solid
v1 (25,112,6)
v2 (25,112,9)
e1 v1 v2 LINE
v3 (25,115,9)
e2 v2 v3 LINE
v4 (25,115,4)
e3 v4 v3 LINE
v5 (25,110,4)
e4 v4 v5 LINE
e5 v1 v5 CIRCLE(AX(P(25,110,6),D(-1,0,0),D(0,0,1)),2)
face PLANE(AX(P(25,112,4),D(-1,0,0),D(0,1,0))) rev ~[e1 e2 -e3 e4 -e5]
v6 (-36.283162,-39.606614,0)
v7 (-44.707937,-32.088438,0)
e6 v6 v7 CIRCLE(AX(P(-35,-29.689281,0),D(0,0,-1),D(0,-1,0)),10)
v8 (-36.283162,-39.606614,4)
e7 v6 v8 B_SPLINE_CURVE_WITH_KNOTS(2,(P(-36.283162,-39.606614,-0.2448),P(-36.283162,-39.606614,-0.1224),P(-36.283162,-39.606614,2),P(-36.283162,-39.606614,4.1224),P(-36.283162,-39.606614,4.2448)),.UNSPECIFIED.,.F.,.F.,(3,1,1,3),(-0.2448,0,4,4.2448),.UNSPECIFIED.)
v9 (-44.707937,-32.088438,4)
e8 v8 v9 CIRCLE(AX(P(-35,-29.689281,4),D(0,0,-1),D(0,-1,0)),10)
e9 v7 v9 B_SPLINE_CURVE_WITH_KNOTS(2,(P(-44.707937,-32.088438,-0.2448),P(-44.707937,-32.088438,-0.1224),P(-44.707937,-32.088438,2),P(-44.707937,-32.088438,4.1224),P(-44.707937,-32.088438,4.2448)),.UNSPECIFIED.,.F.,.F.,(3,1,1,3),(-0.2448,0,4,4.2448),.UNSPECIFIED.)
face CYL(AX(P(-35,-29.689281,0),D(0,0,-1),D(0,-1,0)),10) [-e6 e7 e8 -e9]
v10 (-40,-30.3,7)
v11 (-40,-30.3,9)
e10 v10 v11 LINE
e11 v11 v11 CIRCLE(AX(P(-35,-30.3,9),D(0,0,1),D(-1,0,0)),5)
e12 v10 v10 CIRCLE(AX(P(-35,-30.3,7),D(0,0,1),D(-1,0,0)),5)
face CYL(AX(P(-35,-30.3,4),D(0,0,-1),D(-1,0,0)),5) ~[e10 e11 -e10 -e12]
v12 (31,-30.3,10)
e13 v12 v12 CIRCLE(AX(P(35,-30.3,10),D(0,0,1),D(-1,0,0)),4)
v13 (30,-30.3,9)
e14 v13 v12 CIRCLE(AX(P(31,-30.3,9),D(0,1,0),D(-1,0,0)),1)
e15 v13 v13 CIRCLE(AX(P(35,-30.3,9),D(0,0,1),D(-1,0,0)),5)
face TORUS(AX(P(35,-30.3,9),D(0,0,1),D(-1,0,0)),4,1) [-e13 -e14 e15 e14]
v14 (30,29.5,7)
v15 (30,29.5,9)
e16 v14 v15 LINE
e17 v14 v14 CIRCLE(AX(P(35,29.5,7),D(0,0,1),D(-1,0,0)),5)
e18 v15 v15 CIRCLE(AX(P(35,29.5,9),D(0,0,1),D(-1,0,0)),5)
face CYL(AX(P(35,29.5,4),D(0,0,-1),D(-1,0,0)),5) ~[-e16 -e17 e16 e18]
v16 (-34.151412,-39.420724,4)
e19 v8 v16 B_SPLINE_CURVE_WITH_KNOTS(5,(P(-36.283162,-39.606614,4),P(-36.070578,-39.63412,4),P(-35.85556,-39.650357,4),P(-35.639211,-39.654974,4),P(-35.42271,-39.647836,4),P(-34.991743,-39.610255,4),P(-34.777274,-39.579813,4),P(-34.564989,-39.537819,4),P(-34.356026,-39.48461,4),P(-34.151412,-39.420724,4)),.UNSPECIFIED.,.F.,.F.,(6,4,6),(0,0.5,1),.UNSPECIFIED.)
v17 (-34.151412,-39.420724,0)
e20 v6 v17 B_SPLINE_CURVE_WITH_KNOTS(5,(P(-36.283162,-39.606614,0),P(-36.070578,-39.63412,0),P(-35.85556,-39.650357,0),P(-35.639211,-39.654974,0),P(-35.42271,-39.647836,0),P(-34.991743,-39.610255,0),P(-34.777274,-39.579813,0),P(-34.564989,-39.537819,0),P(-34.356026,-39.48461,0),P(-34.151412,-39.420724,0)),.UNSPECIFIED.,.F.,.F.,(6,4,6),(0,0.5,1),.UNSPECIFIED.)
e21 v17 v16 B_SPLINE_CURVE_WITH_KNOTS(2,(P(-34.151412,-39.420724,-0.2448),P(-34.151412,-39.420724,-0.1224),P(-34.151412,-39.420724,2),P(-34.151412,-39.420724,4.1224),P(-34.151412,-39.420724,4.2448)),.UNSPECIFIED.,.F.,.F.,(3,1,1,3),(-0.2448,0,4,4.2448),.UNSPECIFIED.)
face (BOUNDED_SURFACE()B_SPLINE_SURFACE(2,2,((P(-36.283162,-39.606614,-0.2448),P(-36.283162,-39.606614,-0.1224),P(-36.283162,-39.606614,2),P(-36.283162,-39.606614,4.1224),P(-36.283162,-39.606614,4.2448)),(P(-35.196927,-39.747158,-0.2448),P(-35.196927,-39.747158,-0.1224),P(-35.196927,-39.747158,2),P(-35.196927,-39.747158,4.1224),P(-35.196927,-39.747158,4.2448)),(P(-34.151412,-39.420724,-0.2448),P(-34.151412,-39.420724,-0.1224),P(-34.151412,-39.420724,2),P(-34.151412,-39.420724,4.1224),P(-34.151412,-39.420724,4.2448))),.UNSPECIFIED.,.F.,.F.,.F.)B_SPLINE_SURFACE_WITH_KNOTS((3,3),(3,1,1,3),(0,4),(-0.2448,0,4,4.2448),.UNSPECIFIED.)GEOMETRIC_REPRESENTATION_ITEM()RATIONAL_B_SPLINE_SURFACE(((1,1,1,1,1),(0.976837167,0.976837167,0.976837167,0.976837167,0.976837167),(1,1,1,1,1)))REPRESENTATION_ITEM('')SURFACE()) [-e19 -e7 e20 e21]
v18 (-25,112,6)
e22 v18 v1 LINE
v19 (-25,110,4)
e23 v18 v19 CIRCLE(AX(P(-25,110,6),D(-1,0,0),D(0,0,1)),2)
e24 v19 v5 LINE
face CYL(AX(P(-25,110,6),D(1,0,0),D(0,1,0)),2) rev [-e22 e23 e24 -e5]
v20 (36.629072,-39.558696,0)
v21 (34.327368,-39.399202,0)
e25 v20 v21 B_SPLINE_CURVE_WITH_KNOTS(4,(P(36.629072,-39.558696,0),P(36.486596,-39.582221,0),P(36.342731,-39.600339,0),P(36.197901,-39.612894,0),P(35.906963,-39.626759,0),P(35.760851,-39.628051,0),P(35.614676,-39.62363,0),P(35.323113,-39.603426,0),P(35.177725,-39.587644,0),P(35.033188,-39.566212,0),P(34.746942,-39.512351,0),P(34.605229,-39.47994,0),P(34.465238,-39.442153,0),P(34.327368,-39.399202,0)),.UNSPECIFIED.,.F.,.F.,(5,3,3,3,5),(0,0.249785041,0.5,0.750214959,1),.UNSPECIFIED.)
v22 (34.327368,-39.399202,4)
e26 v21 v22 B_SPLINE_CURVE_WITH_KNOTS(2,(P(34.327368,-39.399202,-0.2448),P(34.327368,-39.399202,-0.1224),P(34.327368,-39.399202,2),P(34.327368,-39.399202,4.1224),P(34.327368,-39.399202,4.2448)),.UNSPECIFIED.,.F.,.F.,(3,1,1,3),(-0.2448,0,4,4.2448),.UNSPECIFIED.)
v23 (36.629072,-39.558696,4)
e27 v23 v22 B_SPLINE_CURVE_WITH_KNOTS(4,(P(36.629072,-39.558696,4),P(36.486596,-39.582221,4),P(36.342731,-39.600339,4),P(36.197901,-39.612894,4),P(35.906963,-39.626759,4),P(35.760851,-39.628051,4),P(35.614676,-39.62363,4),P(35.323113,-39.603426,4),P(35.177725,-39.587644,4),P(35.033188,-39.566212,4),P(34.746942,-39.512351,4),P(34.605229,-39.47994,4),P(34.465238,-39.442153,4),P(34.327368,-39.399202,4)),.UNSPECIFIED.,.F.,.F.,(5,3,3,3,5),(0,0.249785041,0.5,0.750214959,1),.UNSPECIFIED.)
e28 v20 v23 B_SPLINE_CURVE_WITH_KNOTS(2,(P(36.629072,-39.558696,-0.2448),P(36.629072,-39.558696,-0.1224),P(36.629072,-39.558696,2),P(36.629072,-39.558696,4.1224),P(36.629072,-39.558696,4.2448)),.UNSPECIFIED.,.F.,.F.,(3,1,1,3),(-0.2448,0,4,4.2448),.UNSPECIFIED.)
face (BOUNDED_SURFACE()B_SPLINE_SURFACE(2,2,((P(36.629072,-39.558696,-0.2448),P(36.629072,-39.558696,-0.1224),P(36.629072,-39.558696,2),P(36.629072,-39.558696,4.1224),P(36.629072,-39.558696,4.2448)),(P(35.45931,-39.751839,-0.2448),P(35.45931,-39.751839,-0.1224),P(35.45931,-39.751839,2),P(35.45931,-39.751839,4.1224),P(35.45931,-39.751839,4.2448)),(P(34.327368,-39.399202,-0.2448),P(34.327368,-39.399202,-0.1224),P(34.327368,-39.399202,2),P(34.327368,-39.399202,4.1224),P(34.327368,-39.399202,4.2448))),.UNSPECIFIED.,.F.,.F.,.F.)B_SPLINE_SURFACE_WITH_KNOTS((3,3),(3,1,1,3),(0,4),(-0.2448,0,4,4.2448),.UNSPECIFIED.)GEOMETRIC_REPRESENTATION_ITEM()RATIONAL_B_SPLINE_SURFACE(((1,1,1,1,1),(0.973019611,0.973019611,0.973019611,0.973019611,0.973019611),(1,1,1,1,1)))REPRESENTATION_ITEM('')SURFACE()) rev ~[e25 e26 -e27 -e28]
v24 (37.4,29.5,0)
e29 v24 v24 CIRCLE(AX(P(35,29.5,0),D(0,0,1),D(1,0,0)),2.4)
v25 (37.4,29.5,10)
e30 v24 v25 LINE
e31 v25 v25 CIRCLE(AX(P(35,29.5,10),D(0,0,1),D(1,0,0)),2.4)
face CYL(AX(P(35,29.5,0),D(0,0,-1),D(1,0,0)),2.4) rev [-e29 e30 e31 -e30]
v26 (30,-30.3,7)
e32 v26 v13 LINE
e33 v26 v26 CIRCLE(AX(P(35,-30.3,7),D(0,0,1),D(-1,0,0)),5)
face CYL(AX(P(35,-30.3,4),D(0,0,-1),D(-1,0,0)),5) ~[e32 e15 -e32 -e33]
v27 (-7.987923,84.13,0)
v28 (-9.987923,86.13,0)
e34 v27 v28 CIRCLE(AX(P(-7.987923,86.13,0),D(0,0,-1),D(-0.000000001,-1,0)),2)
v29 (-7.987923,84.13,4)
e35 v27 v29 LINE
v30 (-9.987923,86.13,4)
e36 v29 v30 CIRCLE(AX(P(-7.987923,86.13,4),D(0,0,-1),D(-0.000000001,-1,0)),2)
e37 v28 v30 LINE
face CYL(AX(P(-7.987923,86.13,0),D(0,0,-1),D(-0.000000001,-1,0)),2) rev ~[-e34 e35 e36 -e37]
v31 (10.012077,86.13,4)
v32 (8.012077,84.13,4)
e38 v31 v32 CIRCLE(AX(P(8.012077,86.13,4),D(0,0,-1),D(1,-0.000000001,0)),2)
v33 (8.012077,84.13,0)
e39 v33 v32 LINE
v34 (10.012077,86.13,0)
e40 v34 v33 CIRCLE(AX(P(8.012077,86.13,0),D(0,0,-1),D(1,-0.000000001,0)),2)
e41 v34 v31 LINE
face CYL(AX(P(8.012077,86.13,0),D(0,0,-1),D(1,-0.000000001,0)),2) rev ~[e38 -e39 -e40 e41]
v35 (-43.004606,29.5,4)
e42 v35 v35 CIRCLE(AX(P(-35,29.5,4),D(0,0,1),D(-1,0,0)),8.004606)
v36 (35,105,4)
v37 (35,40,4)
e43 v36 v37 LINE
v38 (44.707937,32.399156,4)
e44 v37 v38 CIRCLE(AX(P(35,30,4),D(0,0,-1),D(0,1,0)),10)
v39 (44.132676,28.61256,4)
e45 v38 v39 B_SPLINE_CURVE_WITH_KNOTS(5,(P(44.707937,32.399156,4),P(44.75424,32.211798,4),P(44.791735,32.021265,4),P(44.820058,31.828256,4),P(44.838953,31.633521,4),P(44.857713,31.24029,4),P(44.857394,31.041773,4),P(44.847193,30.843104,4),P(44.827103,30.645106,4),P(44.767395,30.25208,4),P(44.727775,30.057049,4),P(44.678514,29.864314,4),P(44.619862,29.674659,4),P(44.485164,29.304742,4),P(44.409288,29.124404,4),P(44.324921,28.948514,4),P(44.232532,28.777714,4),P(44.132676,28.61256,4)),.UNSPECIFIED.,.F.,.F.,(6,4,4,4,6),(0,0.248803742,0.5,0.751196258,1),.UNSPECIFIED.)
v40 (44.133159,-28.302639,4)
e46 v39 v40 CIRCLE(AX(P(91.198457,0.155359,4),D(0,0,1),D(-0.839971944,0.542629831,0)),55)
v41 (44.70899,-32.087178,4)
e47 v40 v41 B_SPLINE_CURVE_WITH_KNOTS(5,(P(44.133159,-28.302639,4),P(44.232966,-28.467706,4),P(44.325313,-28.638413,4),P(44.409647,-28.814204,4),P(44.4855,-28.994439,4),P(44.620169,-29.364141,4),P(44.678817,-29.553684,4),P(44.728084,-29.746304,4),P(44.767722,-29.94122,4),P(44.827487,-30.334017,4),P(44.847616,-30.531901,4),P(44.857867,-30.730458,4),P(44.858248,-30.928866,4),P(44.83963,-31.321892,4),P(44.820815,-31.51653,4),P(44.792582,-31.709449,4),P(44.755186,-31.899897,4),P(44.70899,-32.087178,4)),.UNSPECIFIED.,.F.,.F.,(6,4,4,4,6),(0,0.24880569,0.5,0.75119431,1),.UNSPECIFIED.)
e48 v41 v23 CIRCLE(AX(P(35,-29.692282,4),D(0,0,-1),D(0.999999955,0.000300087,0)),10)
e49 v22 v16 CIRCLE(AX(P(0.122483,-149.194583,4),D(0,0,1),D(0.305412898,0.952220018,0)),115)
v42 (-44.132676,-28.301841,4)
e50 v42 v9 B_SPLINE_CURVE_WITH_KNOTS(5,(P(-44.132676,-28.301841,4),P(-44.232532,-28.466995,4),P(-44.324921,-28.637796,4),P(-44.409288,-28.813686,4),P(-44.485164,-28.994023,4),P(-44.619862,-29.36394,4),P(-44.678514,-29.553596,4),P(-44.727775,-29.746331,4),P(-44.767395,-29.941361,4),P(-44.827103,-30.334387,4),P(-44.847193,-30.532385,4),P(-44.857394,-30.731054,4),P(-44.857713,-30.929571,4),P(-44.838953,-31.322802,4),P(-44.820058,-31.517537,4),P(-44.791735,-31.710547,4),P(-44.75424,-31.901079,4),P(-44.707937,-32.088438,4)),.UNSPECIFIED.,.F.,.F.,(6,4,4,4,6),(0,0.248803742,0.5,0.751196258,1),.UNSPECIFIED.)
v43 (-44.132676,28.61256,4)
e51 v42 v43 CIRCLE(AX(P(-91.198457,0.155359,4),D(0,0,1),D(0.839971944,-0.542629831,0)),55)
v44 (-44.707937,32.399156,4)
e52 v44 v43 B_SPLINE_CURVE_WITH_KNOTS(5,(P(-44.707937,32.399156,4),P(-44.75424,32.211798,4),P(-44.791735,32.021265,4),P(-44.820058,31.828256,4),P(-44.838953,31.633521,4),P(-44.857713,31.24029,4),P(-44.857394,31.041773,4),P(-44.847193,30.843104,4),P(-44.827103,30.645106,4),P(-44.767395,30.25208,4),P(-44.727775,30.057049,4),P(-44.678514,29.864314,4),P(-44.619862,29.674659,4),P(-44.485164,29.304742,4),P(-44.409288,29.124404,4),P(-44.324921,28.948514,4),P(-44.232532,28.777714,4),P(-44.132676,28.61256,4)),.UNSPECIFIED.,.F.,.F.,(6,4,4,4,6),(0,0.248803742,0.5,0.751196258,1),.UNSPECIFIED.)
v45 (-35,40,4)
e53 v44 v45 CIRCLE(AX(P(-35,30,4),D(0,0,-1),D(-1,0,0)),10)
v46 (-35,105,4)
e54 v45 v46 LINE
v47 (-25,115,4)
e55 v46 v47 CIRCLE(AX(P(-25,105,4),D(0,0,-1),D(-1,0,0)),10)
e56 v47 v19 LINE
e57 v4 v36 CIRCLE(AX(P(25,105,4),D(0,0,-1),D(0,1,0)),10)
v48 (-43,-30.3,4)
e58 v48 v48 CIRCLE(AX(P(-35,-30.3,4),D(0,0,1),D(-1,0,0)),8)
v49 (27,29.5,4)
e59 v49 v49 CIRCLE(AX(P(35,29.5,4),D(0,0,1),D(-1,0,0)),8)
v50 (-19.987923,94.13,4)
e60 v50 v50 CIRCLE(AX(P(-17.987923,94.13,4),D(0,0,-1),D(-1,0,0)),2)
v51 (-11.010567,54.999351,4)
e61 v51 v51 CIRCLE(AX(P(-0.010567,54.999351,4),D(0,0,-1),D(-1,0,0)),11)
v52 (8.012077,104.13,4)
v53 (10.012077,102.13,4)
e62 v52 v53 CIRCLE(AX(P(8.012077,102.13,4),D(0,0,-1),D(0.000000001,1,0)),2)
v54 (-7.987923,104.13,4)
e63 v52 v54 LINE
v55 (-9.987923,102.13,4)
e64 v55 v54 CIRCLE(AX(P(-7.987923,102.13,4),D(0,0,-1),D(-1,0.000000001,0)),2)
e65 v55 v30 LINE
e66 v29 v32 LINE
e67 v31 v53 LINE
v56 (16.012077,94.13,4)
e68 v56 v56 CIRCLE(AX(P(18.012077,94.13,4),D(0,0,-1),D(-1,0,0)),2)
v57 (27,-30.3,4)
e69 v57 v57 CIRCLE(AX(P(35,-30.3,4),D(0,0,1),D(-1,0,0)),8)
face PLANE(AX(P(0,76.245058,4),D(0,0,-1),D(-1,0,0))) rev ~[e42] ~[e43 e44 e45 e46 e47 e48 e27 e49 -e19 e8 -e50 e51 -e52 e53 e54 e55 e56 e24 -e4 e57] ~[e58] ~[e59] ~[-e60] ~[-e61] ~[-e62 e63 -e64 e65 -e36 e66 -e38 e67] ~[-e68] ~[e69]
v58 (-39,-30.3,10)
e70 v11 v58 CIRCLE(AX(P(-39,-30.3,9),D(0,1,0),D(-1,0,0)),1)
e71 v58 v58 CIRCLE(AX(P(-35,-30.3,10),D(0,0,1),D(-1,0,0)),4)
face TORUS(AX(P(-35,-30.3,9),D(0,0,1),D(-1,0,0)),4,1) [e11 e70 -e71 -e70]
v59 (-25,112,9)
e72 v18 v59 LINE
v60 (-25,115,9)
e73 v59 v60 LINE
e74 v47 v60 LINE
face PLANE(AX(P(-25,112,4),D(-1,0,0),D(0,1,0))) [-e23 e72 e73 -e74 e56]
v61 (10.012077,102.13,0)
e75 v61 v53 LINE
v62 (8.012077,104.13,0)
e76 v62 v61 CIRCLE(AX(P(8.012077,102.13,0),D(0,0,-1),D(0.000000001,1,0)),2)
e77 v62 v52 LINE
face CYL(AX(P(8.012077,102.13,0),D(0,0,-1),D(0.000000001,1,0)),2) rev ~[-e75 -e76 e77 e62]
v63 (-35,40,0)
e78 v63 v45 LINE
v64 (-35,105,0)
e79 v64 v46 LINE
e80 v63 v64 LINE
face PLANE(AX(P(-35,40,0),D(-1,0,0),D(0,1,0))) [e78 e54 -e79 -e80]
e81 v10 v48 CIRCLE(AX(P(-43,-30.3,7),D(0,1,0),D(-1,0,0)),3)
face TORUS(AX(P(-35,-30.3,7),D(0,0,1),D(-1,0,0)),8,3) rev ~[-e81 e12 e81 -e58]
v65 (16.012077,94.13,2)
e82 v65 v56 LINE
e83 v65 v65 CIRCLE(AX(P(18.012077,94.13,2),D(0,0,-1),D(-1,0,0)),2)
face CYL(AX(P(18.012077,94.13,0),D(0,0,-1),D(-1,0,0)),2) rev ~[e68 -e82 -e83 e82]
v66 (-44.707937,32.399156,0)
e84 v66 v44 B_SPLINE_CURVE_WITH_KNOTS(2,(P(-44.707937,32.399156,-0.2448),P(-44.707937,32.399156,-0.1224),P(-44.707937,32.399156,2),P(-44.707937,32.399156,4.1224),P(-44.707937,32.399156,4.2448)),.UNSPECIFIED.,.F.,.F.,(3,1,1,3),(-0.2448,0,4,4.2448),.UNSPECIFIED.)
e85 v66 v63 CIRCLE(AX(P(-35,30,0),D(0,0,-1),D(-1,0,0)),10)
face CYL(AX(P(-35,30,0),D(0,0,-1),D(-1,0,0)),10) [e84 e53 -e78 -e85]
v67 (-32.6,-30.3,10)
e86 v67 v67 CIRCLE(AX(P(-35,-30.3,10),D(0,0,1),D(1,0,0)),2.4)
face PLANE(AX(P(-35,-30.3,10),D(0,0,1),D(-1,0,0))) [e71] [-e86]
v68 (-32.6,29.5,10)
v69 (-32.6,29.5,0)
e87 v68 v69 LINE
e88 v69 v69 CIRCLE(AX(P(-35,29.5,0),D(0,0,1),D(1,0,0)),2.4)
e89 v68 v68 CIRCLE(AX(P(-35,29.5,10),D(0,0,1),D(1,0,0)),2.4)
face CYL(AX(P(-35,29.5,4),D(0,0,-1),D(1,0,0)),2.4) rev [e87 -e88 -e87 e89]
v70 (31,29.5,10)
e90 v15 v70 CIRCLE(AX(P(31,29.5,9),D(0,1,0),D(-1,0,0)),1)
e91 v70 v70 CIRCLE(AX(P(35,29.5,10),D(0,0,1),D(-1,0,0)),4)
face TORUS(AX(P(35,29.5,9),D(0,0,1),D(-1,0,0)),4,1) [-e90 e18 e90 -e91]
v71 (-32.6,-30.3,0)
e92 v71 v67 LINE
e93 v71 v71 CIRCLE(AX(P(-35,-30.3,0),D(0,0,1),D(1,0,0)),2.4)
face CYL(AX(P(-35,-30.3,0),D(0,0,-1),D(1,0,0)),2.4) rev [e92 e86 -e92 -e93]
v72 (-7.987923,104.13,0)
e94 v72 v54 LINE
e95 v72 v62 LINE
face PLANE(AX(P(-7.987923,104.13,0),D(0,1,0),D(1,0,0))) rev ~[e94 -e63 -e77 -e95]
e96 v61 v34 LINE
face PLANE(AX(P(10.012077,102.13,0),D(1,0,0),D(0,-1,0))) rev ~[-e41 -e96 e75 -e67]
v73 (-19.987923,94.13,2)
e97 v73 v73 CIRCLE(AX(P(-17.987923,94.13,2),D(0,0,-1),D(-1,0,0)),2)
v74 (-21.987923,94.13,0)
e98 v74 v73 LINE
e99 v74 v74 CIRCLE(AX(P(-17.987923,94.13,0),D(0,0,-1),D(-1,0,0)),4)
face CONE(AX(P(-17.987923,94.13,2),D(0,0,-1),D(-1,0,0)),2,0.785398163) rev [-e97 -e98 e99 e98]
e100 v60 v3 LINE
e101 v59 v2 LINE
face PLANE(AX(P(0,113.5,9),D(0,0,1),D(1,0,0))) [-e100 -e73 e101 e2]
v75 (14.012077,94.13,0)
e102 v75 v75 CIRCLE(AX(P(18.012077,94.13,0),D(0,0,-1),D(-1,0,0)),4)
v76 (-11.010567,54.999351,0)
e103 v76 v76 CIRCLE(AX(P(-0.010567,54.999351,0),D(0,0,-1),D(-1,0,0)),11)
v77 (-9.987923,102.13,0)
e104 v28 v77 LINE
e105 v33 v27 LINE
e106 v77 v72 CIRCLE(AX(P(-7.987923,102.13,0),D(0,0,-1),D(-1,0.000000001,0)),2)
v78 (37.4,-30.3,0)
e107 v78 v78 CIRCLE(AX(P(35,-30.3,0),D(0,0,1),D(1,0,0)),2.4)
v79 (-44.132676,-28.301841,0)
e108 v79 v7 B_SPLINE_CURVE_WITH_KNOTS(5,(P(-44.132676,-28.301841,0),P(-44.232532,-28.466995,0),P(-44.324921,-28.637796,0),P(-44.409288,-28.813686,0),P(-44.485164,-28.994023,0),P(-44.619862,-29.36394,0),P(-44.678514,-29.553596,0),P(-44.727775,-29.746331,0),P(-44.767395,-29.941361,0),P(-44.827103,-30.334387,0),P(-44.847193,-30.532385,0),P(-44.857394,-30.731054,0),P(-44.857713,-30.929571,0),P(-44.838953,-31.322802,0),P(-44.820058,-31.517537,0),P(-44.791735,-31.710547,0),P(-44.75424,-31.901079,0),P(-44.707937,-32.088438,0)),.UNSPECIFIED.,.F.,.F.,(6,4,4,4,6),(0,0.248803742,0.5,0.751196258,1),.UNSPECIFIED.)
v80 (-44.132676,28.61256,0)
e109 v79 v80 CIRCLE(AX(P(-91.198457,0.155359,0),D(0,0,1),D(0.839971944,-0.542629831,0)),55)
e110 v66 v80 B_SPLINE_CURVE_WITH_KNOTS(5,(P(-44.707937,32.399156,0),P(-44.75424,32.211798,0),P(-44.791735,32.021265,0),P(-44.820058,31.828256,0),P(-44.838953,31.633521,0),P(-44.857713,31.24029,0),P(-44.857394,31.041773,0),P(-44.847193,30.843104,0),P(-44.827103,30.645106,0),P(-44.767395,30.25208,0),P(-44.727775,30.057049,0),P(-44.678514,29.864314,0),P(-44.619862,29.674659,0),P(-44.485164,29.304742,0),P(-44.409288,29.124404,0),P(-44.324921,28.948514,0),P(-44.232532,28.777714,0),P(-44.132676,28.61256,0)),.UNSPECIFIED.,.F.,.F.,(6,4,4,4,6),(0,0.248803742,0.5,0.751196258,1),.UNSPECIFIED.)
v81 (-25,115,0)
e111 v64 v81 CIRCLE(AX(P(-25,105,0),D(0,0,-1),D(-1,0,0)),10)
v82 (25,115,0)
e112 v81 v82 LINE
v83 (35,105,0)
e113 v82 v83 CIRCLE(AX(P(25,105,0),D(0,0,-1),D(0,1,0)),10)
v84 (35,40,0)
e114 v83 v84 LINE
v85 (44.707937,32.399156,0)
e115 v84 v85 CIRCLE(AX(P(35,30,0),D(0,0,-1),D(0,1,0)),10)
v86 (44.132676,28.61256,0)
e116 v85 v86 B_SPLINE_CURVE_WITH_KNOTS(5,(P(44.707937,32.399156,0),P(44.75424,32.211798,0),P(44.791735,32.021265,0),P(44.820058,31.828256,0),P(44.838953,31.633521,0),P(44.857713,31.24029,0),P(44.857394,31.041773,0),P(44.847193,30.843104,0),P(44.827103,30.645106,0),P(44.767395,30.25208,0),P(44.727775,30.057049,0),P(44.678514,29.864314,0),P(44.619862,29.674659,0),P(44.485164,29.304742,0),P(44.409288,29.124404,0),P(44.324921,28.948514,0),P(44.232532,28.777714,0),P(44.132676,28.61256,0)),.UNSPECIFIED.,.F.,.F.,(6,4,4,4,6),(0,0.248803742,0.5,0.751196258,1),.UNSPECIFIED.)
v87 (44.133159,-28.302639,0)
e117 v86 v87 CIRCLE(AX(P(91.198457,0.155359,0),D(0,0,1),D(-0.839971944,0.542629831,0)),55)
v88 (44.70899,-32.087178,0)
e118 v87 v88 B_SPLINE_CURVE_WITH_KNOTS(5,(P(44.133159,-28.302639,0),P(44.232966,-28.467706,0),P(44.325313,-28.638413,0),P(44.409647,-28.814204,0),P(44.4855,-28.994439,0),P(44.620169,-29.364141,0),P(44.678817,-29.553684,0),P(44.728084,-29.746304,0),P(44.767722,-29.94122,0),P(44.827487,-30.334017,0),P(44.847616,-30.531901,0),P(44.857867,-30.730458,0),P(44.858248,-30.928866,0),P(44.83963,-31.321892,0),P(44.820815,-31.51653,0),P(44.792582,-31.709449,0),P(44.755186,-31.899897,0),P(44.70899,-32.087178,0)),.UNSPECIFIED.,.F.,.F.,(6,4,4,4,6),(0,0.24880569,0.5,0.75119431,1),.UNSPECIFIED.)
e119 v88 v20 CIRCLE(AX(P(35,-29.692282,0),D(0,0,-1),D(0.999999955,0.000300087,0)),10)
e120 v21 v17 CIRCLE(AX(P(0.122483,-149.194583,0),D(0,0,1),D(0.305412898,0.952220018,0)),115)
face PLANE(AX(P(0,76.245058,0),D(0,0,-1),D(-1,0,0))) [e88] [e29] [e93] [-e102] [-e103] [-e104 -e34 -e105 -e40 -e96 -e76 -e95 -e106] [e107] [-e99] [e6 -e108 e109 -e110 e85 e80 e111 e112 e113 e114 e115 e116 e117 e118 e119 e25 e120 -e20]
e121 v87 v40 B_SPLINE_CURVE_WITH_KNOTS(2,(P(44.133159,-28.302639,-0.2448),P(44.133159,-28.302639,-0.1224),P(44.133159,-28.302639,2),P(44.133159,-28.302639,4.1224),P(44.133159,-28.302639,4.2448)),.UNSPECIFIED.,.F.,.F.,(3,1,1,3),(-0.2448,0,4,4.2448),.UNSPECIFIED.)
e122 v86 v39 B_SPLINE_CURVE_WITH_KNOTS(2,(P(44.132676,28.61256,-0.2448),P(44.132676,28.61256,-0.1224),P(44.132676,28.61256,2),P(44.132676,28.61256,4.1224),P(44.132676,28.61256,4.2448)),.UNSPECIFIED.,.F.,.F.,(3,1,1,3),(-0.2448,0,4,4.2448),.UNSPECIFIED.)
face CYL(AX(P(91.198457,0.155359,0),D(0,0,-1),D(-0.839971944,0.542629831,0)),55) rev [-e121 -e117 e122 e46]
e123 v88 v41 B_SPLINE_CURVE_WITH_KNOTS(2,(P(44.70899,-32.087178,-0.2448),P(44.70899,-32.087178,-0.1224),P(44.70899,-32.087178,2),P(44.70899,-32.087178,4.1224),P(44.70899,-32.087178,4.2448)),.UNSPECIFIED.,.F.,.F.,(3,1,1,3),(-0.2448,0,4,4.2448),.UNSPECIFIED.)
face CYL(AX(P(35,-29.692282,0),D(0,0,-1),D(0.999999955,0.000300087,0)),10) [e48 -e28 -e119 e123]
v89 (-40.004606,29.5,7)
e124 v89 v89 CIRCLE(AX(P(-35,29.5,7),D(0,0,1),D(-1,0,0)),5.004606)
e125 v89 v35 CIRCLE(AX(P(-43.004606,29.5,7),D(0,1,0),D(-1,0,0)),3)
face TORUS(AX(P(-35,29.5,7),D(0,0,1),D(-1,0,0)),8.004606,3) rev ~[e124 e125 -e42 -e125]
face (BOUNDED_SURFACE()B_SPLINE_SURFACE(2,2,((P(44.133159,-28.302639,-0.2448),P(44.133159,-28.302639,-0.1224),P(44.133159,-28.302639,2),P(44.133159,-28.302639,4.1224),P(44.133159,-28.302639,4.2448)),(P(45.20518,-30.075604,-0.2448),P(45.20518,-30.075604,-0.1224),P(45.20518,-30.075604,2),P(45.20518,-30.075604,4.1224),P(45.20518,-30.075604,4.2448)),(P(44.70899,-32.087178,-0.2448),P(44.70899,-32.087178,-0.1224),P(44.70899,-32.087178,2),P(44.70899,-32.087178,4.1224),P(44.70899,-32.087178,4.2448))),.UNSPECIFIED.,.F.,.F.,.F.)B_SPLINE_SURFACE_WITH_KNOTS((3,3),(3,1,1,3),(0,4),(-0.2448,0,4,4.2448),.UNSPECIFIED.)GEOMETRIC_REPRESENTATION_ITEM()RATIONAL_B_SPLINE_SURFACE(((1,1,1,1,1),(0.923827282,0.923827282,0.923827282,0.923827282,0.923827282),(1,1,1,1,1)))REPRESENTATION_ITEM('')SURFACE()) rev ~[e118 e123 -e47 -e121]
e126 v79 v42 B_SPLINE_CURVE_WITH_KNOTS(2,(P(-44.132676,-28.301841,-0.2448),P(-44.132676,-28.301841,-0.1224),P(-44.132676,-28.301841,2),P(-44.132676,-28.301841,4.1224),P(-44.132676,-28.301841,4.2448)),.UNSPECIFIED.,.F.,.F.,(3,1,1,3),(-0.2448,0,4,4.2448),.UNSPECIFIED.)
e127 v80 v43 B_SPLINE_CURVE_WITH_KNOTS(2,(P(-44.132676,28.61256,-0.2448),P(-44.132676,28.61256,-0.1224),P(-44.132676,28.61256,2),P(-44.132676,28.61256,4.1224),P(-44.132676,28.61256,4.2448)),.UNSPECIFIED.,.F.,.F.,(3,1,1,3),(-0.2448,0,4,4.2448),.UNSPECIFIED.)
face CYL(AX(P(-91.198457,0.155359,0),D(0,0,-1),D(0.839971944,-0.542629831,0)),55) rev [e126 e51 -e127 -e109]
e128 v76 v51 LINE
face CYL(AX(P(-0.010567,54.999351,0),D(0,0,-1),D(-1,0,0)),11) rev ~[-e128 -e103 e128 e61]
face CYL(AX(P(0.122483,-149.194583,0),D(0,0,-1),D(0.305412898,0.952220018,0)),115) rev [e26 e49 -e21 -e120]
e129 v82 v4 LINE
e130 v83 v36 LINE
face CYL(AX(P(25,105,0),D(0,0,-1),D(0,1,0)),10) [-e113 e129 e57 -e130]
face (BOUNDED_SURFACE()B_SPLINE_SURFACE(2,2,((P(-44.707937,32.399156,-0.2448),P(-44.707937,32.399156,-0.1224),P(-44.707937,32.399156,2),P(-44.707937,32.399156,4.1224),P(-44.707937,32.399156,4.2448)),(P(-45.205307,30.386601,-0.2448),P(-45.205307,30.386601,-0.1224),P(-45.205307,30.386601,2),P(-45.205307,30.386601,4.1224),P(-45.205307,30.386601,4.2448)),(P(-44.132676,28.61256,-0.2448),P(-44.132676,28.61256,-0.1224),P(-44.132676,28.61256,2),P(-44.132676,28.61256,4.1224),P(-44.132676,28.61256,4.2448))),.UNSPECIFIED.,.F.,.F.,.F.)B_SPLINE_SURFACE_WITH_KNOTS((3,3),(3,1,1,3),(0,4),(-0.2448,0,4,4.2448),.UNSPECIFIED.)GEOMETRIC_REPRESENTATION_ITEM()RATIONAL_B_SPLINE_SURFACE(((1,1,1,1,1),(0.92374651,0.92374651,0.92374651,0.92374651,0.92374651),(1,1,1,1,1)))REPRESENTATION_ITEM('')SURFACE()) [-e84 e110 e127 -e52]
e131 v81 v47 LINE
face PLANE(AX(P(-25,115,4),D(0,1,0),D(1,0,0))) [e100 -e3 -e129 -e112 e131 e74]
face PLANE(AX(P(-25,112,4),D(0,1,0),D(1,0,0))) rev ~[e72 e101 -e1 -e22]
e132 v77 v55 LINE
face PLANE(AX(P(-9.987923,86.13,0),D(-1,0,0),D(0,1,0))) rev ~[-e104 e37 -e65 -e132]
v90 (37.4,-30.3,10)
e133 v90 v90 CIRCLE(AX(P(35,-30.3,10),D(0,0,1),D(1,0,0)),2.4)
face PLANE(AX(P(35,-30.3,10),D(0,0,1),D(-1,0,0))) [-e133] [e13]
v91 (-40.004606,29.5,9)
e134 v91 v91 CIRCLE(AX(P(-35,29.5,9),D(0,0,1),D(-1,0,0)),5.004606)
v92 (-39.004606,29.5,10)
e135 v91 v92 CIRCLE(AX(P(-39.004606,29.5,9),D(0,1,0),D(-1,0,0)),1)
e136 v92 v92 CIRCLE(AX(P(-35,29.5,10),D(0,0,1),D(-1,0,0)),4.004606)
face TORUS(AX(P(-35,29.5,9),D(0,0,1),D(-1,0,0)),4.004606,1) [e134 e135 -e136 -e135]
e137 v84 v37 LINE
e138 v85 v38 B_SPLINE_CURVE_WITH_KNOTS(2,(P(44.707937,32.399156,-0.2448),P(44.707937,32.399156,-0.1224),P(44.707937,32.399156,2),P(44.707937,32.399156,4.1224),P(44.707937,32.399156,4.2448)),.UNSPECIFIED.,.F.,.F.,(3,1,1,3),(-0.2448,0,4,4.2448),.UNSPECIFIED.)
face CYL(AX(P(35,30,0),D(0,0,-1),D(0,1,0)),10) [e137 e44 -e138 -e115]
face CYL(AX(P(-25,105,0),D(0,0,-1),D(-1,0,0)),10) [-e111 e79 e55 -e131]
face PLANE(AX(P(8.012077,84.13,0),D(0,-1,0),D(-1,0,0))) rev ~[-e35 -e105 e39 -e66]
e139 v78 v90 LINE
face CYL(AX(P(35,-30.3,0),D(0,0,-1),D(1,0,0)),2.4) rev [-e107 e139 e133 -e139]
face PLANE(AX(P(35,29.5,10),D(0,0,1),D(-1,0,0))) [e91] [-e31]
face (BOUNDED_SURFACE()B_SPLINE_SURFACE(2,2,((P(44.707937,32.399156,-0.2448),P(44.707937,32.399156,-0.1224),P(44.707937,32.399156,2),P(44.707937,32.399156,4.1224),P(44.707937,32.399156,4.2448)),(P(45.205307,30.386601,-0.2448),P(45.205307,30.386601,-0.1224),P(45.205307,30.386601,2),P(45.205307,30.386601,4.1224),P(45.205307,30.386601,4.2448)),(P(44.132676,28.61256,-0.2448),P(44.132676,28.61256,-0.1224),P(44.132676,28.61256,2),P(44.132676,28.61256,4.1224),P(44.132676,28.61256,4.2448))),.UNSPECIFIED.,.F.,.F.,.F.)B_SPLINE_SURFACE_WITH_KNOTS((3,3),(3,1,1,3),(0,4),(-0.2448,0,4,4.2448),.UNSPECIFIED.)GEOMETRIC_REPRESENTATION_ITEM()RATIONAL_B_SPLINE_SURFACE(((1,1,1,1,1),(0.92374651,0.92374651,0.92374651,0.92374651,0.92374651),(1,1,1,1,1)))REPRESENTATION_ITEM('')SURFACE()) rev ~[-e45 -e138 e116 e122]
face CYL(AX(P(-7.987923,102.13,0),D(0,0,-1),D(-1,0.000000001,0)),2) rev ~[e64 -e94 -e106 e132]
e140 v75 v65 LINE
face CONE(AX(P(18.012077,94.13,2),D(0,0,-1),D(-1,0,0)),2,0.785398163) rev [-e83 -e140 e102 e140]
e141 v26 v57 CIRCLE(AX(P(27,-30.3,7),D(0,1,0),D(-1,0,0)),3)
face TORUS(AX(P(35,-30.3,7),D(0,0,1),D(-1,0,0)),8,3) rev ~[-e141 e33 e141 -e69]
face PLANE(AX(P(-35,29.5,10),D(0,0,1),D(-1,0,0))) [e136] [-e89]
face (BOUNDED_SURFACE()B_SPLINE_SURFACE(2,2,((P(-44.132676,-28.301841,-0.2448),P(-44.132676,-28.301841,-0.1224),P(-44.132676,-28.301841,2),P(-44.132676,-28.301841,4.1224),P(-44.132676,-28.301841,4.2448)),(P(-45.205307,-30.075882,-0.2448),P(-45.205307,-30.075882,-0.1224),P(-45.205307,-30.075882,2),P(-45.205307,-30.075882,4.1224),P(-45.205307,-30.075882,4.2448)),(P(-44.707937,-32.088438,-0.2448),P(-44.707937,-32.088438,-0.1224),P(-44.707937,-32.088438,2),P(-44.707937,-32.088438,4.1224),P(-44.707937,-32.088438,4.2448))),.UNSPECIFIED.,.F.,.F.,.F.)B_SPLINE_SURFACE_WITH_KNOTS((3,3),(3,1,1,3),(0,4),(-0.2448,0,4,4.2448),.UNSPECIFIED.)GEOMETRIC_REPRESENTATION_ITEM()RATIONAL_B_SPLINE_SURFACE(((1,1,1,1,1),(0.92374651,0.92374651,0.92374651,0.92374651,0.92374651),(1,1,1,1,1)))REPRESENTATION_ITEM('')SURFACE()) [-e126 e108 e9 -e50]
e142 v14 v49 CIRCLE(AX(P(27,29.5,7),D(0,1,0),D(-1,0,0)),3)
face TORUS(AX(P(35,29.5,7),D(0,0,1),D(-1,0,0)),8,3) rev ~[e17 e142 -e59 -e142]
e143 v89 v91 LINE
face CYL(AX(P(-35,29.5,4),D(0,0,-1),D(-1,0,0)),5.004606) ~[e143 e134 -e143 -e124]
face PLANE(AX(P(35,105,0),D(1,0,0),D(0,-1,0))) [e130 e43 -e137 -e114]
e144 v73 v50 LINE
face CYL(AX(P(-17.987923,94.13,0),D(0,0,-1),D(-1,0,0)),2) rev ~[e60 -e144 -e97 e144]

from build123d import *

# Parameters (mm, degrees)
SKETCH1_R           = 2.4
BOSS_EXTRUDE1_DEPTH = 4
SKETCH2_R           = 5.004606442
SKETCH2_R_2         = 2.4
SKETCH2_R_3         = 5
BOSS_EXTRUDE2_DEPTH = 6
FILLET1_R           = 3
FILLET2_R           = 1
FILLET3_R           = 5
BOSS_EXTRUDE3_DEPTH = 4
CUT_EXTRUDE1_REACH  = 125.842
SKETCH4_R           = 2
SKETCH4_R_2         = 11
CHAMFER2_SIZE       = 2
SKETCH5_W           = 50
SKETCH5_H           = 3
BOSS_EXTRUDE4_DEPTH = 5
FILLET4_R           = 2


with BuildPart() as part:
    # Sketch1 → Boss-Extrude1 (new body)
    with BuildSketch(Plane.XY):
        with BuildLine():
            Line((-35, 40), (35, 40))
            ThreePointArc((35, 40), (42.071067812, 37.071067812), (45, 30))
            ThreePointArc((45, 30), (36.198456921, 0.155359306), (45, -29.689281388))
            ThreePointArc((45, -29.689281388), (42.158200619, -36.675130552), (35.244966425, -39.689281388))
            ThreePointArc((35.244966425, -39.689281388), (0.122483213, -34.194583419), (-35, -39.689281388))
            ThreePointArc((-35, -39.689281388), (-42.071067812, -36.7603492), (-45, -29.689281388))
            ThreePointArc((-45, -29.689281388), (-36.198456921, 0.155359306), (-45, 30))
            ThreePointArc((-45, 30), (-42.071067812, 37.071067812), (-35, 40))
        make_face()
        with Locations((-35, 29.5)):
            Circle(SKETCH1_R, mode=Mode.SUBTRACT)
        with Locations((35, 29.5)):
            Circle(SKETCH1_R, mode=Mode.SUBTRACT)
        with Locations((-35, -30.3)):
            Circle(SKETCH1_R, mode=Mode.SUBTRACT)
        with Locations((35, -30.3)):
            Circle(SKETCH1_R, mode=Mode.SUBTRACT)
    extrude(amount=BOSS_EXTRUDE1_DEPTH)

    # Sketch2 → Boss-Extrude2 (add)
    # profile 1 of 4: a face of its own
    with BuildSketch(Plane.XY.offset(4)):
        with Locations(Location((-35, 29.5, 0), (0, 0, 180))):
            Circle(SKETCH2_R)
        with Locations((-35, 29.5)):
            Circle(SKETCH2_R_2, mode=Mode.SUBTRACT)
    # profile 2 of 4: a face of its own
    with BuildSketch(Plane.XY.offset(4)):
        with Locations(Location((35, 29.5, 0), (0, 0, 180))):
            Circle(SKETCH2_R_3)
        with Locations((35, 29.5)):
            Circle(SKETCH2_R_2, mode=Mode.SUBTRACT)
    # profile 3 of 4: a face of its own
    with BuildSketch(Plane.XY.offset(4)):
        with Locations(Location((-35, -30.3, 0), (0, 0, 180))):
            Circle(SKETCH2_R_3)
        with Locations((-35, -30.3)):
            Circle(SKETCH2_R_2, mode=Mode.SUBTRACT)
    # profile 4 of 4: a face of its own
    with BuildSketch(Plane.XY.offset(4)):
        with Locations(Location((35, -30.3, 0), (0, 0, 180))):
            Circle(SKETCH2_R_3)
        with Locations((35, -30.3)):
            Circle(SKETCH2_R_2, mode=Mode.SUBTRACT)
    extrude(amount=BOSS_EXTRUDE2_DEPTH)

    # Fillet1
    fillet1_edges = [part.edges().sort_by_distance(p)[0] for p in [
        (-29.995393558, 29.5, 4),
        (40, 29.5, 4),
        (-30, -30.3, 4),
        (40, -30.3, 4),
    ]]
    fillet(fillet1_edges, radius=FILLET1_R)

    # Fillet2
    fillet2_edges = [part.edges().sort_by_distance(p)[0] for p in [
        (-29.995393558, 29.5, 10),
        (40, 29.5, 10),
        (-30, -30.3, 10),
        (40, -30.3, 10),
    ]]
    fillet(fillet2_edges, radius=FILLET2_R)

    # Fillet3
    fillet3_edges = [part.edges().sort_by_distance(p)[0] for p in [
        (45, 30, 2),
        (45, -29.689281388, 2),
        (35.244966425, -39.689281388, 2),
        (-35, -39.689281388, 2),
        (-45, -29.689281388, 2),
        (-45, 30, 2),
    ]]
    fillet(fillet3_edges, radius=FILLET3_R)

    # Sketch3 → Boss-Extrude3 (add)
    with BuildSketch(Plane(origin=(0, 0, 0), x_dir=(-1, 0, 0), z_dir=(0, 0, -1))):
        with BuildLine():
            Line((-35, 40), (35, 40))
            Line((35, 40), (35, 105))
            ThreePointArc((35, 105), (32.071067812, 112.071067812), (25, 115))
            Line((25, 115), (-25, 115))
            ThreePointArc((-25, 115), (-32.071067812, 112.071067812), (-35, 105))
            Line((-35, 105), (-35, 40))
        make_face()
    extrude(amount=-BOSS_EXTRUDE3_DEPTH)

    # Sketch4 → Cut-Extrude1 (cut, up to next)
    with BuildSketch(Plane(origin=(0, 0, 0), x_dir=(-1, 0, 0), z_dir=(0, 0, -1)), mode=Mode.PRIVATE) as cut_extrude1_sk1:
        with Locations((-18.012077439, 94.13)):
            Circle(SKETCH4_R)
    cut_extrude1_tool1 = extrude(cut_extrude1_sk1.sketch, amount=-CUT_EXTRUDE1_REACH, mode=Mode.PRIVATE) & part.part
    # Sketch4 → Cut-Extrude1 (cut, up to next)
    with BuildSketch(Plane(origin=(0, 0, 0), x_dir=(-1, 0, 0), z_dir=(0, 0, -1)), mode=Mode.PRIVATE) as cut_extrude1_sk2:
        with Locations((17.987922561, 94.13)):
            Circle(SKETCH4_R)
    cut_extrude1_tool2 = extrude(cut_extrude1_sk2.sketch, amount=-CUT_EXTRUDE1_REACH, mode=Mode.PRIVATE) & part.part
    # Sketch4 → Cut-Extrude1 (cut, up to next)
    with BuildSketch(Plane(origin=(0, 0, 0), x_dir=(-1, 0, 0), z_dir=(0, 0, -1)), mode=Mode.PRIVATE) as cut_extrude1_sk3:
        with Locations((0.010567412, 54.999350628)):
            Circle(SKETCH4_R_2)
    cut_extrude1_tool3 = extrude(cut_extrude1_sk3.sketch, amount=-CUT_EXTRUDE1_REACH, mode=Mode.PRIVATE) & part.part
    # Sketch4 → Cut-Extrude1 (cut, up to next)
    with BuildSketch(Plane(origin=(0, 0, 0), x_dir=(-1, 0, 0), z_dir=(0, 0, -1)), mode=Mode.PRIVATE) as cut_extrude1_sk4:
        with BuildLine():
            Line((-8.012077439, 84.13), (7.987922561, 84.13))
            ThreePointArc((7.987922561, 84.13), (9.402136123, 84.715786438), (9.987922561, 86.13))
            Line((9.987922561, 86.13), (9.987922561, 102.13))
            ThreePointArc((9.987922561, 102.13), (9.402136123, 103.544213562), (7.987922561, 104.13))
            Line((7.987922561, 104.13), (-8.012077439, 104.13))
            ThreePointArc((-8.012077439, 104.13), (-9.426291001, 103.544213562), (-10.012077439, 102.13))
            Line((-10.012077439, 102.13), (-10.012077439, 86.13))
            ThreePointArc((-10.012077439, 86.13), (-9.426291001, 84.715786438), (-8.012077439, 84.13))
        make_face()
    cut_extrude1_tool4 = extrude(cut_extrude1_sk4.sketch, amount=-CUT_EXTRUDE1_REACH, mode=Mode.PRIVATE) & part.part
    add(cut_extrude1_tool1.solids().sort_by_distance((18.012077, 94.13, 0))[0], mode=Mode.SUBTRACT)
    add(cut_extrude1_tool2.solids().sort_by_distance((-17.987923, 94.13, 0))[0], mode=Mode.SUBTRACT)
    add(cut_extrude1_tool3.solids().sort_by_distance((-0.010567, 54.999351, 0))[0], mode=Mode.SUBTRACT)
    add(cut_extrude1_tool4.solids().sort_by_distance((0.012077, 94.13, 0))[0], mode=Mode.SUBTRACT)

    # Chamfer2
    chamfer2_edges = [part.edges().sort_by_distance(p)[0] for p in [
        (20.012077439, 94.13, 0),
        (-15.987922561, 94.13, 0),
    ]]
    chamfer(chamfer2_edges, length=CHAMFER2_SIZE)

    # Sketch5 → Boss-Extrude4 (add)
    with BuildSketch(Plane.XY.offset(4)):
        with Locations((0, 113.5)):
            Rectangle(SKETCH5_W, SKETCH5_H)
    extrude(amount=BOSS_EXTRUDE4_DEPTH)

    # Fillet4
    fillet4_edges = [part.edges().sort_by_distance(p)[0] for p in [
        (0, 112, 4),
    ]]
    fillet(fillet4_edges, radius=FILLET4_R)


solid = part.part
